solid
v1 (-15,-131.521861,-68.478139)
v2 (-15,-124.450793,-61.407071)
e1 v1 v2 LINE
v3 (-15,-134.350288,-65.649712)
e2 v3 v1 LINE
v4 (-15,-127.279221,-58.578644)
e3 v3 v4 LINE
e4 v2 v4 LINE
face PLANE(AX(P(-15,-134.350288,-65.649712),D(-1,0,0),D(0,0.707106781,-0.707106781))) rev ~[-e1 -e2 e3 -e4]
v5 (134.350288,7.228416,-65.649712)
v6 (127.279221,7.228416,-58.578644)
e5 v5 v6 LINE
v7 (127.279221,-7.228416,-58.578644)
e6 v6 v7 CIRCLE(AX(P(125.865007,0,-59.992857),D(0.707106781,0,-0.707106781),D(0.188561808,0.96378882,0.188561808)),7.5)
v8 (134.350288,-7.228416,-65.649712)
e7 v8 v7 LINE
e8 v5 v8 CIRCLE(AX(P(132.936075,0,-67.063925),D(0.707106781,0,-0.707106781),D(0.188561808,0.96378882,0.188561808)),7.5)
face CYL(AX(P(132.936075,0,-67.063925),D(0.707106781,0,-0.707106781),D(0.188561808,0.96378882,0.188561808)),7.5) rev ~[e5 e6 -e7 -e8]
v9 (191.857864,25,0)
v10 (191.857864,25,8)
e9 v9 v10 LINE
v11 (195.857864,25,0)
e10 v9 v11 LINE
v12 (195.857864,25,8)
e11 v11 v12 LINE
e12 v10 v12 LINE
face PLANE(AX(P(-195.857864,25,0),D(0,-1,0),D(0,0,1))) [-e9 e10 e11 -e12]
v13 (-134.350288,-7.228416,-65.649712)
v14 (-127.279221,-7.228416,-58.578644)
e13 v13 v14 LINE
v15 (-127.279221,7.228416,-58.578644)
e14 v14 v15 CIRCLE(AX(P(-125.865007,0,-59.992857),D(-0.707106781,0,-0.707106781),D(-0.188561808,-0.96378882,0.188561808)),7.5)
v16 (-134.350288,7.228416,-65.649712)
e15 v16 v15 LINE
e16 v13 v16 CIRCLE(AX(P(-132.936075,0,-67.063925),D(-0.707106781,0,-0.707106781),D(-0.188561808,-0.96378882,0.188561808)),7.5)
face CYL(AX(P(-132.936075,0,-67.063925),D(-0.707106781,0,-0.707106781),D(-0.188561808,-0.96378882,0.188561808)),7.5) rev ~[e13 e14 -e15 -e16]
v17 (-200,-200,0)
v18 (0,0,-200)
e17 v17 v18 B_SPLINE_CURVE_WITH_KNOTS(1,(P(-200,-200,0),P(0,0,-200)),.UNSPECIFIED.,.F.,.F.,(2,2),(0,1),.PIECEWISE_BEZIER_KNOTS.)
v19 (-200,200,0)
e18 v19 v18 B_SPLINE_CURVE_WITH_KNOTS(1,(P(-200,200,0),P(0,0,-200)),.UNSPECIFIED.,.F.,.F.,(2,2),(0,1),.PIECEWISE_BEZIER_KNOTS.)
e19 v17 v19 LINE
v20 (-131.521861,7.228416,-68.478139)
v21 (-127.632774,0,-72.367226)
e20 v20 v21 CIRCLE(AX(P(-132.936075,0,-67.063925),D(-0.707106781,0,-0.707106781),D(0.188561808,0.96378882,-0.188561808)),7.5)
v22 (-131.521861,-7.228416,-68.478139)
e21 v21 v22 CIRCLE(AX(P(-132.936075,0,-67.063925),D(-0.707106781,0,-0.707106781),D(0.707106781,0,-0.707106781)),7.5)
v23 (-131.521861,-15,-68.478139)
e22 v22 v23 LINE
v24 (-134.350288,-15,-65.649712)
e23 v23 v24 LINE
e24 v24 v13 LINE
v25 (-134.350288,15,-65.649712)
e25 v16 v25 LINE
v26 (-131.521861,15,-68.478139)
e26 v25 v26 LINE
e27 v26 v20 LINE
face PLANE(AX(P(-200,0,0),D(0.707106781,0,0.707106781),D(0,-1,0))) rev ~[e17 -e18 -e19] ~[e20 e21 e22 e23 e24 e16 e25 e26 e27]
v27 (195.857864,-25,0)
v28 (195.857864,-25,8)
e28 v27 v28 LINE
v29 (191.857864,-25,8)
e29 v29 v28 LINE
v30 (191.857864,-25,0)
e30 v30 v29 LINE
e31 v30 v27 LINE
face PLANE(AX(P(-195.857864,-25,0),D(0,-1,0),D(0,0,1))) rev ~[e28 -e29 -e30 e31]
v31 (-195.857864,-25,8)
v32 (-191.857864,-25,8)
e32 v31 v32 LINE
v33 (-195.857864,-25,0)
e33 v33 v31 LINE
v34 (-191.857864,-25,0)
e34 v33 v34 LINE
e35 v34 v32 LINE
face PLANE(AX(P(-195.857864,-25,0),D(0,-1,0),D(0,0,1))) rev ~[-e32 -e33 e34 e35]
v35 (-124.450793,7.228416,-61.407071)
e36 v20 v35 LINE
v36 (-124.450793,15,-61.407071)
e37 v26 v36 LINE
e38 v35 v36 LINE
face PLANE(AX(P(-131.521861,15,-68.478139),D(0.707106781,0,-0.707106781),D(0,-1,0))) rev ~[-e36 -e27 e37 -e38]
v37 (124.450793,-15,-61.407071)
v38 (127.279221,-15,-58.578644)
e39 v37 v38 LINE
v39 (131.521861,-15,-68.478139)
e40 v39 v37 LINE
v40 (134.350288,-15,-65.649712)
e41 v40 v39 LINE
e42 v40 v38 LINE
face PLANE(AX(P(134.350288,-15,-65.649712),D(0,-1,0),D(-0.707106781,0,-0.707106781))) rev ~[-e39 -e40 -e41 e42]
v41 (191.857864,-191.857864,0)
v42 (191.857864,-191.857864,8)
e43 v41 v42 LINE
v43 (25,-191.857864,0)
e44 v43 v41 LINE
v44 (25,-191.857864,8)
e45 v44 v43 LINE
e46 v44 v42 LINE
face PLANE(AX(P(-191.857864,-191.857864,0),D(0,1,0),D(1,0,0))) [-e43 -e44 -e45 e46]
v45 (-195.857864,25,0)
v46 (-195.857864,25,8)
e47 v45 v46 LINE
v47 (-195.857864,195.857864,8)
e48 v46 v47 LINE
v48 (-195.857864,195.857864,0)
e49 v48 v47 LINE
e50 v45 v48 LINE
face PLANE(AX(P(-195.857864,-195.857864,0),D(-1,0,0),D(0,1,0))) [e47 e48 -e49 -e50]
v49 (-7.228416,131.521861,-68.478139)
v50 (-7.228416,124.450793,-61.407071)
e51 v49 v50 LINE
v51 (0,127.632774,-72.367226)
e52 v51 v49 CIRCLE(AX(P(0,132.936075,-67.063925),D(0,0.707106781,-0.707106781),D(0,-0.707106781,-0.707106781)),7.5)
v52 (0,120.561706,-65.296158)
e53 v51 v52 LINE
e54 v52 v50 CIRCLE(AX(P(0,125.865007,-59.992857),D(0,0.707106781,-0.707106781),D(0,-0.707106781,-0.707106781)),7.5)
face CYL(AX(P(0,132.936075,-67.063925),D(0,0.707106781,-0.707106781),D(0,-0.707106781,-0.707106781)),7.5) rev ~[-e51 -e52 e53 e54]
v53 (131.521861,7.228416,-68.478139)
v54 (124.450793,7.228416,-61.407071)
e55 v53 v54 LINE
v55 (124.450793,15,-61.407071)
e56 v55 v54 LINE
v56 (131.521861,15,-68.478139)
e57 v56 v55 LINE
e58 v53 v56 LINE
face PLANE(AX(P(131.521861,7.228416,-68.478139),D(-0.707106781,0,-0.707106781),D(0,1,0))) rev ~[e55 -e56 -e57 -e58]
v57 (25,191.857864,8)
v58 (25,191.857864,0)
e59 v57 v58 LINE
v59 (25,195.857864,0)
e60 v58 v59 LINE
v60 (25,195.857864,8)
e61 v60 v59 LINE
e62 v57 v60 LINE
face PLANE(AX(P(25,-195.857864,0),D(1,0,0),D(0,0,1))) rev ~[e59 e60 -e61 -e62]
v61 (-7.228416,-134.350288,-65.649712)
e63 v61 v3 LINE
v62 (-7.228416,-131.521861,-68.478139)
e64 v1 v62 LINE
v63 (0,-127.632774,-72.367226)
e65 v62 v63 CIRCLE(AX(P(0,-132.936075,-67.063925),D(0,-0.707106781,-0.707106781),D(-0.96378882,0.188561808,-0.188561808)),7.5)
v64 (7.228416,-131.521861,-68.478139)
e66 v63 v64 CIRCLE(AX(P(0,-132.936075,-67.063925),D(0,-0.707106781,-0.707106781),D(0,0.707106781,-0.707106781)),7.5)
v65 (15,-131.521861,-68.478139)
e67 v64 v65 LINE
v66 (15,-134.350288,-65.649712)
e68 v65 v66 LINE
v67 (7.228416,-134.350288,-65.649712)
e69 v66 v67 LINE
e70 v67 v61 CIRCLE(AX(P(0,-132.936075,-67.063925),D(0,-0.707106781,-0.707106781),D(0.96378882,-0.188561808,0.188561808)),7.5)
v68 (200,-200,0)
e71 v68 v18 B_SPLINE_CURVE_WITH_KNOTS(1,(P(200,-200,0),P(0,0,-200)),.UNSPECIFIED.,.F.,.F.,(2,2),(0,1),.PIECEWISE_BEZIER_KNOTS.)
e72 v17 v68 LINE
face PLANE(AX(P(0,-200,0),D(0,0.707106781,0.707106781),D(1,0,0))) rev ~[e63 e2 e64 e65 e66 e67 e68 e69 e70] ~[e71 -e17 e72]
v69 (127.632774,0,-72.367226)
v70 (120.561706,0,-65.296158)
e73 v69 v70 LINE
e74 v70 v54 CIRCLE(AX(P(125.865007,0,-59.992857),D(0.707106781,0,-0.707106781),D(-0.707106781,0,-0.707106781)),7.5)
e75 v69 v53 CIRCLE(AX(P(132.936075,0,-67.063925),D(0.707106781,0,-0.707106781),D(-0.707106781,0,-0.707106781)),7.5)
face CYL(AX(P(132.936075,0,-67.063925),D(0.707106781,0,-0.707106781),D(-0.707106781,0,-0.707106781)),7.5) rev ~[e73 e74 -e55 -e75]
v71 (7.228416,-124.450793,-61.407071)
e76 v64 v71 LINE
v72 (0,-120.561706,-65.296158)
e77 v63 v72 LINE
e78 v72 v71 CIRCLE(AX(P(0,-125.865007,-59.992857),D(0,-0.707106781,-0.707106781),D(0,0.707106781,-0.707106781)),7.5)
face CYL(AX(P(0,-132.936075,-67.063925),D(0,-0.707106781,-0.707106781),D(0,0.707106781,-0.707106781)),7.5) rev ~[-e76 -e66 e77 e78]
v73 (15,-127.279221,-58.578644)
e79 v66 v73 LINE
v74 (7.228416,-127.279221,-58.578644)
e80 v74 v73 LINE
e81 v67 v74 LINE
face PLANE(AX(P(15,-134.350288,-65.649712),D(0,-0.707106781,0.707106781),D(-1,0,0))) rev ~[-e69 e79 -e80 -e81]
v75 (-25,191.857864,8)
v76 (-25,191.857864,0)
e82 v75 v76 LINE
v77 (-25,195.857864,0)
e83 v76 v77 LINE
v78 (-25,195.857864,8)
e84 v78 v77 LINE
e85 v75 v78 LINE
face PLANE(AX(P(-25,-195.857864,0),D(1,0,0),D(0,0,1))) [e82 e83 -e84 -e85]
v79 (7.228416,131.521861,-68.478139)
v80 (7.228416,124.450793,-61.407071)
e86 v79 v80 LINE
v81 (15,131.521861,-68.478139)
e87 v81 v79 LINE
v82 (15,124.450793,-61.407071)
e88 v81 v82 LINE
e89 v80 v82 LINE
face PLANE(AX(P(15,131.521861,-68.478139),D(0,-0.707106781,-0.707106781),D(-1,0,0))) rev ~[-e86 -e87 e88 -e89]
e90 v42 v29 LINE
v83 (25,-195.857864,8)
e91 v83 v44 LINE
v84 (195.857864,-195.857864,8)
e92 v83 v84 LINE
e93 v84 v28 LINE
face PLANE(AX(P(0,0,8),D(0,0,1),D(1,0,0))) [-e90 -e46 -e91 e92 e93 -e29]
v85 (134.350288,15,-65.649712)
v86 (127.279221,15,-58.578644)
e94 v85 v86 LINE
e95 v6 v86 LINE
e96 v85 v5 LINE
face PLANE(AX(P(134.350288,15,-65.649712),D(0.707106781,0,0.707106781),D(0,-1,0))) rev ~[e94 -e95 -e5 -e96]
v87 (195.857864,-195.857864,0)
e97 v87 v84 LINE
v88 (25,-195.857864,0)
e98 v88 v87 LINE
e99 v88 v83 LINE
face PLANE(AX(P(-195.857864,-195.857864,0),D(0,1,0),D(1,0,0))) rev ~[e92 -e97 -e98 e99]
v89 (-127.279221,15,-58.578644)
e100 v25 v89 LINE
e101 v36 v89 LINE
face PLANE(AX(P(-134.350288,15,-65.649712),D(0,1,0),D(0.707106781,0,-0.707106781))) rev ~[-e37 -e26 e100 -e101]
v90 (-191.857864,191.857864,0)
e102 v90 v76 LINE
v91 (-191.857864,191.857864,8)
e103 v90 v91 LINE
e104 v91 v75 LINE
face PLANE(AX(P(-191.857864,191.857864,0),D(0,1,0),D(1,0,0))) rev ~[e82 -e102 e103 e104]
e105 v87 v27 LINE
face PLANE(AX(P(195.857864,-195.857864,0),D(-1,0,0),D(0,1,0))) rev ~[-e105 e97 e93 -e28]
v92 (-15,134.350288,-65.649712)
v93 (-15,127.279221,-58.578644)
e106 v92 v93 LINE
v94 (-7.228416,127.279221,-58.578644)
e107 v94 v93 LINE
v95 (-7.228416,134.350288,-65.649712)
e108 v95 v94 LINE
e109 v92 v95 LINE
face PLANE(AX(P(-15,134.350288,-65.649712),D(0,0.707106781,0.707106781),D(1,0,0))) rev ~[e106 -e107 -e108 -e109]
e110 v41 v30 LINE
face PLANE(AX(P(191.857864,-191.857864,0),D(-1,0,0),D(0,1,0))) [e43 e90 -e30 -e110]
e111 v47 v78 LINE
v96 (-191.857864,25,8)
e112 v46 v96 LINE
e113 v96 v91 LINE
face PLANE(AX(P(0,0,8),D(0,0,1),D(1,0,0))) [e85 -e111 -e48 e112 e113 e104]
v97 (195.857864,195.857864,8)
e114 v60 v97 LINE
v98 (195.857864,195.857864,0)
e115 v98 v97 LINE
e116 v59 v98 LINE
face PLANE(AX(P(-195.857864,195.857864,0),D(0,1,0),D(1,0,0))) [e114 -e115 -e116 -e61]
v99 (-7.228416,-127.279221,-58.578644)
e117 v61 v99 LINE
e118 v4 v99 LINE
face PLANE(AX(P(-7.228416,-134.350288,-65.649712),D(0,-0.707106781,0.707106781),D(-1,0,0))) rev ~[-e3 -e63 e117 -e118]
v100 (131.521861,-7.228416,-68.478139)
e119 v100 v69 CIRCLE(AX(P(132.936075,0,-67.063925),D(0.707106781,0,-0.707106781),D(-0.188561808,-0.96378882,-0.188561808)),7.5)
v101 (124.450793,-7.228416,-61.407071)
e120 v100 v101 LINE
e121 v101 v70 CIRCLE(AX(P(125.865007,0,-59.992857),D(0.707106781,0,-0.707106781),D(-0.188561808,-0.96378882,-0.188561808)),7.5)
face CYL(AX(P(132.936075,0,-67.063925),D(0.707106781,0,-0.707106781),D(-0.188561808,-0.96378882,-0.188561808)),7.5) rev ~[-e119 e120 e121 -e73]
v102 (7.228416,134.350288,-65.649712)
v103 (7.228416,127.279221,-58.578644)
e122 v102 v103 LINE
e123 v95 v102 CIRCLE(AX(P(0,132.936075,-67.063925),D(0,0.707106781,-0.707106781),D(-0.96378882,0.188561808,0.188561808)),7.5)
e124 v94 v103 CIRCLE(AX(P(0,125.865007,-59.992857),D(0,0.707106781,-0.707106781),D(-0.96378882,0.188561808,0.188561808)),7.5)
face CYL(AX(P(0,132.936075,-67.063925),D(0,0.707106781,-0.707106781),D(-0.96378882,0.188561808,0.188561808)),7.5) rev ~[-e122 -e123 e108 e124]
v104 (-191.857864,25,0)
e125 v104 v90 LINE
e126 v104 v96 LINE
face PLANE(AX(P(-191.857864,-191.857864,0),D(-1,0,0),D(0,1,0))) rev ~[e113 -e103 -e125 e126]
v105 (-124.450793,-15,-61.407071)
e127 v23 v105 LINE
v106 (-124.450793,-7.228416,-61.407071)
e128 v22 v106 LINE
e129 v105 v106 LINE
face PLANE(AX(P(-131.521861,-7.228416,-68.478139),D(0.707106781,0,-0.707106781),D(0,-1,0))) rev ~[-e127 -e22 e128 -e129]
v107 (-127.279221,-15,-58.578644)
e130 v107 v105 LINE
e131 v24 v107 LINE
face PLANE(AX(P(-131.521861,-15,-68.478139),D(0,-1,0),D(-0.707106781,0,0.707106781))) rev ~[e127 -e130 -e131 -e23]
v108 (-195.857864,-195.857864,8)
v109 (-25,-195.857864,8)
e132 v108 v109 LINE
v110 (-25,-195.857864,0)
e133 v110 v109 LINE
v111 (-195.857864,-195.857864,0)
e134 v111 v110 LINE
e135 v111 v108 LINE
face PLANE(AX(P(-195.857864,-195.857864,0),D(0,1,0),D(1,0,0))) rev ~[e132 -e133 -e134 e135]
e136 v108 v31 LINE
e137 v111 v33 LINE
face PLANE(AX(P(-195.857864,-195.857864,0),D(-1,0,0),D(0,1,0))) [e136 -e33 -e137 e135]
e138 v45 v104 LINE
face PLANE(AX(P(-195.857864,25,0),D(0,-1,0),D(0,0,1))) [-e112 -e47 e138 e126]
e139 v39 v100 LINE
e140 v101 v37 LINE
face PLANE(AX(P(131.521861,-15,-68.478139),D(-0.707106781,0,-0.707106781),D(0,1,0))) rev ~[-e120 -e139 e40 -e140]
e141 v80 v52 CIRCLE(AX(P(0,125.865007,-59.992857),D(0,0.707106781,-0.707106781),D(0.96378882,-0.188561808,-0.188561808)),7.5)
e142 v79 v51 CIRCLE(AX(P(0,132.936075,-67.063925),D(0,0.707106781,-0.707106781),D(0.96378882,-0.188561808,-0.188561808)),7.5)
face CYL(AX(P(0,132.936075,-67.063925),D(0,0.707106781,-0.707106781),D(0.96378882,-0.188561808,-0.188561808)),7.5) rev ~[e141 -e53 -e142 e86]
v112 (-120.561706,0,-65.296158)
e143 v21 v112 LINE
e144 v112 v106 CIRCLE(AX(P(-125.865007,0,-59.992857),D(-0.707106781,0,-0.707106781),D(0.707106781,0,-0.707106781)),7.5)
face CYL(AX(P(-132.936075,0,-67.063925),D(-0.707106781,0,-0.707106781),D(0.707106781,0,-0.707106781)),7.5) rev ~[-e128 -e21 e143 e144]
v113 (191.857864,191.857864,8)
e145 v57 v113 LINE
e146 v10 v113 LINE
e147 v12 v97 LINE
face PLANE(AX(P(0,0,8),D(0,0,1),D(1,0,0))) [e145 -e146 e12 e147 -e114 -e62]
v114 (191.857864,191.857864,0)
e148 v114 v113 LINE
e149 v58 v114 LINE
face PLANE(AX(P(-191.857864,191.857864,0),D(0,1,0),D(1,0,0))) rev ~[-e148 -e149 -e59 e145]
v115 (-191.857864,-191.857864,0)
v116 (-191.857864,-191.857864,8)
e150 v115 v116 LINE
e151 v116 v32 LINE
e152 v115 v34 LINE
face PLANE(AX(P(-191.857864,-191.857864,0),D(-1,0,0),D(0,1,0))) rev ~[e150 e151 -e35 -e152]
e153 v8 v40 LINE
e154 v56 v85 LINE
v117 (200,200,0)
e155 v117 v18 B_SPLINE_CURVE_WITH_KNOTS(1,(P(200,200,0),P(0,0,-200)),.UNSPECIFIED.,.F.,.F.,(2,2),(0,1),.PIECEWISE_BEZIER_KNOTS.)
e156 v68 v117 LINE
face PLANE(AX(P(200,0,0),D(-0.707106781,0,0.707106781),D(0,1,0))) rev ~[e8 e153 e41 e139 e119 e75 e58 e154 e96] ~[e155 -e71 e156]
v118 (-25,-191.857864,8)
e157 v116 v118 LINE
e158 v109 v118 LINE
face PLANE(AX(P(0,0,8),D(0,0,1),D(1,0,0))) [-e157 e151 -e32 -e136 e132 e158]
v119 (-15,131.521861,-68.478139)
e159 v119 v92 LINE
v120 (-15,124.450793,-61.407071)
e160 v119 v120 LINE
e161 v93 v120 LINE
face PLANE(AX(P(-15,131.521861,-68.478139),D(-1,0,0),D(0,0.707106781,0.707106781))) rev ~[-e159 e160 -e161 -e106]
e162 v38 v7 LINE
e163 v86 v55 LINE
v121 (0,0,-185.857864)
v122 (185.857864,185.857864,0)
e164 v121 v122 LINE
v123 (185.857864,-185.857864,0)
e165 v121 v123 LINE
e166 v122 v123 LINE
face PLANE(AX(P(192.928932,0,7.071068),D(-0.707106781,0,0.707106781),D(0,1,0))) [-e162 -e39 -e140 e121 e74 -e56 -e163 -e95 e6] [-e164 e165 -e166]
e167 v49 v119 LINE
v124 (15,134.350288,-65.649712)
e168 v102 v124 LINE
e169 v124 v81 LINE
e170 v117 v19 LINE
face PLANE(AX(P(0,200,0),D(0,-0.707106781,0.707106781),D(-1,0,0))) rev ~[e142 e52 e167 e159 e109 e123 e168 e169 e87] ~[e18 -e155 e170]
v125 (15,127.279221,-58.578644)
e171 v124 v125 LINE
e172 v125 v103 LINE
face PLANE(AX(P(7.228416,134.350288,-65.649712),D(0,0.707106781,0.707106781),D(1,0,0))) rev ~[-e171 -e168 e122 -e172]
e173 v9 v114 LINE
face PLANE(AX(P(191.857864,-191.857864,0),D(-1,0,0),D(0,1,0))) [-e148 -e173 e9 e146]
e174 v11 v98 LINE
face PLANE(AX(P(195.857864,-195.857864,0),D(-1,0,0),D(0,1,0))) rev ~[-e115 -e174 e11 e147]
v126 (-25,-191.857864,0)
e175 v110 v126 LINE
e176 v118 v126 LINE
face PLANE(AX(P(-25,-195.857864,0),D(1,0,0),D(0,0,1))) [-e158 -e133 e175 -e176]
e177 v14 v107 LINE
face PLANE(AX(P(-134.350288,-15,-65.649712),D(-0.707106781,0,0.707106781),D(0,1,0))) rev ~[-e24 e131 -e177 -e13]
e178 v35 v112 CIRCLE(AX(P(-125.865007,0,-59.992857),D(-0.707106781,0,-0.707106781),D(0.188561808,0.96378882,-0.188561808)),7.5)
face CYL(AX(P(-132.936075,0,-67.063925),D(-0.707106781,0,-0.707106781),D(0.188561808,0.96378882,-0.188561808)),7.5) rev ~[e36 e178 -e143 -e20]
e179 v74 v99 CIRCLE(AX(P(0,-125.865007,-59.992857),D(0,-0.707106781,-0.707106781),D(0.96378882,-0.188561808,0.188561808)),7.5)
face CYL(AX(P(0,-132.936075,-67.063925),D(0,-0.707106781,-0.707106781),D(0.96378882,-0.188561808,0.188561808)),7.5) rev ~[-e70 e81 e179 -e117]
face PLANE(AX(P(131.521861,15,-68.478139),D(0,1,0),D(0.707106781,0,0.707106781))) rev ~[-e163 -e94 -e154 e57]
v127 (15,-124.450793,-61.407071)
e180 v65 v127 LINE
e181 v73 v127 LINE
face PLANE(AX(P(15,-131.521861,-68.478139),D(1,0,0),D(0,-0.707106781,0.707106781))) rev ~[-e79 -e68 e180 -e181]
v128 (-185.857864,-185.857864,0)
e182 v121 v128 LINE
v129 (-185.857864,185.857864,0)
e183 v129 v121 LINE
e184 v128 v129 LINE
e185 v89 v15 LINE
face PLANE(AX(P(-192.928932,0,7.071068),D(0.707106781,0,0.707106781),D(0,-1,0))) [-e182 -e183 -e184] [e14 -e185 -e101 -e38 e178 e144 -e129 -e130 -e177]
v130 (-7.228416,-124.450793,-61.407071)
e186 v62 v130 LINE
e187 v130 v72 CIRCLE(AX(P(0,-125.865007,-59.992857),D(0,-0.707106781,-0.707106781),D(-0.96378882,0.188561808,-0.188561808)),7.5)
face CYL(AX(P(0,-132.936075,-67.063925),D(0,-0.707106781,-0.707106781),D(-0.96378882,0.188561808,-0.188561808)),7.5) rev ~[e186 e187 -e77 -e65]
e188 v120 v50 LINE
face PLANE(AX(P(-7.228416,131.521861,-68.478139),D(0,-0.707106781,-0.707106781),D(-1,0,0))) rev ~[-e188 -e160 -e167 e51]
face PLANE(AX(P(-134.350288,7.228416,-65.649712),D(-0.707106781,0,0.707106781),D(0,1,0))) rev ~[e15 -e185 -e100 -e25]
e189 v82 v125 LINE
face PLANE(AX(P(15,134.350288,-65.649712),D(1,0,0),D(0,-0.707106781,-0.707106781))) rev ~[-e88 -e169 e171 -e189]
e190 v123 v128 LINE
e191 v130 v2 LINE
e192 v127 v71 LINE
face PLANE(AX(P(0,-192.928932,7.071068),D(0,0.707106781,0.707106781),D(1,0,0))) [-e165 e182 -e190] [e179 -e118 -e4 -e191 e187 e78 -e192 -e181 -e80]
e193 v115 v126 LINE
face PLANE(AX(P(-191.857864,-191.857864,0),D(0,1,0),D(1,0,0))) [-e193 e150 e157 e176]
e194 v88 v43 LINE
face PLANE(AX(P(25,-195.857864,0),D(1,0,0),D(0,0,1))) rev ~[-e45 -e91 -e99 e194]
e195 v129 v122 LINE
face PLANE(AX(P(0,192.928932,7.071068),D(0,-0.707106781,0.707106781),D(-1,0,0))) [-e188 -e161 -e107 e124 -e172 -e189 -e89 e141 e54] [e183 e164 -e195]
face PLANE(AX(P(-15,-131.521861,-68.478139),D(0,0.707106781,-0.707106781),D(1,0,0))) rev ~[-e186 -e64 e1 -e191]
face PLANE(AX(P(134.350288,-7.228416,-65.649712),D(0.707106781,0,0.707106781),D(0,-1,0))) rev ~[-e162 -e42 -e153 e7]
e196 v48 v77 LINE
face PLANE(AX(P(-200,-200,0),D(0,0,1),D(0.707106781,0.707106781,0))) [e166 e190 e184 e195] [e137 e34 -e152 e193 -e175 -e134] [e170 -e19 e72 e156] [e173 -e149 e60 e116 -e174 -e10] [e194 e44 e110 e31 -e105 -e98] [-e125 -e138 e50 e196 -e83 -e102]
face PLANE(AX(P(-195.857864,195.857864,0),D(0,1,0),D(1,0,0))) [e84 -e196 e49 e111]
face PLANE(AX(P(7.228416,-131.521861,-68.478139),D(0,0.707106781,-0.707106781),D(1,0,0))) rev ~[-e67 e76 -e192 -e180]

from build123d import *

# Parameters (mm, degrees)
F0_W      = 400
F0_H      = 400
F3_T      = -10
F4_W      = 391.7157287525
F4_H      = 391.7157287525
F4_W_2    = 383.7157287525
F4_H_2    = 383.7157287525
F5_DEPTH  = 8
F10_DEPTH = 288.5005667948
F11_DEPTH = 288.5005667948
F12_DEPTH = 288.5005667948
F13_DEPTH = 288.5005667948
F14_W     = 25
F14_H     = 8
F15_DEPTH = 395.8588644763
F16_W     = 25
F16_H     = 8
F17_DEPTH = 395.8588644763


with BuildPart() as f2:
    # F0 (on Top) → F2 section 0
    with BuildSketch(Plane.XY, mode=Mode.PRIVATE) as f2_s0:
        Rectangle(F0_W, F0_H)
    loft([f2_s0.sketch, Vertex(0, 0, -200)])

    # F3
    f3_openings = [f2.faces().sort_by_distance(p)[0] for p in [
        (0, 0, 0),
    ]]
    offset(amount=F3_T, openings=f3_openings)

    # F4 (on face) → F5 (join)
    with BuildSketch(Plane.XY):
        Rectangle(F4_W, F4_H)
        Rectangle(F4_W_2, F4_H_2, mode=Mode.SUBTRACT)
    extrude(amount=F5_DEPTH)

    # F6 (on face) → F10 (cut, through all)
    with BuildSketch(Plane(origin=(0, -100, -100), x_dir=(1, 0, 0), z_dir=(0, -0.7071067812, -0.7071067812))):
        with BuildLine():
            ThreePointArc((-7.2284161474, 44.5786437627), (-4.5414755311, 40.6099755695), (0, 39.0786437627))
            Line((0, 39.0786437627), (0, 44.5786437627))
            Line((0, 44.5786437627), (-7.2284161474, 44.5786437627))
        make_face()
        with BuildLine():
            Line((0, 44.5786437627), (0, 39.0786437627))
            ThreePointArc((0, 39.0786437627), (4.5414755311, 40.6099755695), (7.2284161474, 44.5786437627))
            Line((7.2284161474, 44.5786437627), (0, 44.5786437627))
        make_face()
        with BuildLine():
            Line((-7.2284161474, 44.5786437627), (0, 44.5786437627))
            Line((0, 44.5786437627), (0, 46.5786437627))
            Line((0, 46.5786437627), (7.5, 46.5786437627))
            ThreePointArc((7.5, 46.5786437627), (7.4317938987, 47.5878213721), (7.2284161474, 48.5786437627))
            Line((7.2284161474, 48.5786437627), (-7.2284161474, 48.5786437627))
            ThreePointArc((-7.2284161474, 48.5786437627), (-7.5, 46.5786437627), (-7.2284161474, 44.5786437627))
        make_face()
        with BuildLine():
            Line((0, 46.5786437627), (0, 44.5786437627))
            Line((0, 44.5786437627), (7.2284161474, 44.5786437627))
            ThreePointArc((7.2284161474, 44.5786437627), (7.4317938987, 45.5694661533), (7.5, 46.5786437627))
            Line((7.5, 46.5786437627), (0, 46.5786437627))
        make_face()
        with BuildLine():
            Line((-15, 44.5786437627), (-7.2284161474, 44.5786437627))
            ThreePointArc((-7.2284161474, 44.5786437627), (-7.5, 46.5786437627), (-7.2284161474, 48.5786437627))
            Line((-7.2284161474, 48.5786437627), (-15, 48.5786437627))
            Line((-15, 48.5786437627), (-15, 44.5786437627))
        make_face()
        with BuildLine():
            ThreePointArc((7.5, 46.5786437627), (7.4317938987, 45.5694661533), (7.2284161474, 44.5786437627))
            Line((7.2284161474, 44.5786437627), (15, 44.5786437627))
            Line((15, 44.5786437627), (15, 48.5786437627))
            Line((15, 48.5786437627), (7.2284161474, 48.5786437627))
            ThreePointArc((7.2284161474, 48.5786437627), (7.4317938987, 47.5878213721), (7.5, 46.5786437627))
        make_face()
        with BuildLine():
            ThreePointArc((7.2284161474, 48.5786437627), (0, 54.0786437627), (-7.2284161474, 48.5786437627))
            Line((-7.2284161474, 48.5786437627), (7.2284161474, 48.5786437627))
        make_face()
    extrude(amount=-F10_DEPTH, mode=Mode.SUBTRACT)

    # F7 (on face) → F11 (cut, through all)
    with BuildSketch(Plane(origin=(100, 0, -100), x_dir=(0, 1, 0), z_dir=(0.7071067812, 0, -0.7071067812))):
        with BuildLine():
            ThreePointArc((-7.2284161474, 44.5786437627), (-4.5414755311, 40.6099755695), (0, 39.0786437627))
            Line((0, 39.0786437627), (0, 44.5786437627))
            Line((0, 44.5786437627), (-7.2284161474, 44.5786437627))
        make_face()
        with BuildLine():
            Line((0, 44.5786437627), (0, 39.0786437627))
            ThreePointArc((0, 39.0786437627), (4.5414755311, 40.6099755695), (7.2284161474, 44.5786437627))
            Line((7.2284161474, 44.5786437627), (0, 44.5786437627))
        make_face()
        with BuildLine():
            Line((-7.2284161474, 44.5786437627), (0, 44.5786437627))
            Line((0, 44.5786437627), (0, 46.5786437627))
            Line((0, 46.5786437627), (7.5, 46.5786437627))
            ThreePointArc((7.5, 46.5786437627), (7.4317938987, 47.5878213721), (7.2284161474, 48.5786437627))
            Line((7.2284161474, 48.5786437627), (-7.2284161474, 48.5786437627))
            ThreePointArc((-7.2284161474, 48.5786437627), (-7.5, 46.5786437627), (-7.2284161474, 44.5786437627))
        make_face()
        with BuildLine():
            Line((0, 46.5786437627), (0, 44.5786437627))
            Line((0, 44.5786437627), (7.2284161474, 44.5786437627))
            ThreePointArc((7.2284161474, 44.5786437627), (7.4317938987, 45.5694661533), (7.5, 46.5786437627))
            Line((7.5, 46.5786437627), (0, 46.5786437627))
        make_face()
        with BuildLine():
            Line((-15, 44.5786437627), (-7.2284161474, 44.5786437627))
            ThreePointArc((-7.2284161474, 44.5786437627), (-7.5, 46.5786437627), (-7.2284161474, 48.5786437627))
            Line((-7.2284161474, 48.5786437627), (-15, 48.5786437627))
            Line((-15, 48.5786437627), (-15, 44.5786437627))
        make_face()
        with BuildLine():
            ThreePointArc((7.5, 46.5786437627), (7.4317938987, 45.5694661533), (7.2284161474, 44.5786437627))
            Line((7.2284161474, 44.5786437627), (15, 44.5786437627))
            Line((15, 44.5786437627), (15, 48.5786437627))
            Line((15, 48.5786437627), (7.2284161474, 48.5786437627))
            ThreePointArc((7.2284161474, 48.5786437627), (7.4317938987, 47.5878213721), (7.5, 46.5786437627))
        make_face()
        with BuildLine():
            ThreePointArc((7.2284161474, 48.5786437627), (0, 54.0786437627), (-7.2284161474, 48.5786437627))
            Line((-7.2284161474, 48.5786437627), (7.2284161474, 48.5786437627))
        make_face()
    extrude(amount=-F11_DEPTH, mode=Mode.SUBTRACT)

    # F8 (on face) → F12 (cut, through all)
    with BuildSketch(Plane(origin=(0, 100, -100), x_dir=(-1, 0, 0), z_dir=(0, 0.7071067812, -0.7071067812))):
        with BuildLine():
            ThreePointArc((-7.2284161474, 44.5786437627), (-4.5414755311, 40.6099755695), (0, 39.0786437627))
            Line((0, 39.0786437627), (0, 44.5786437627))
            Line((0, 44.5786437627), (-7.2284161474, 44.5786437627))
        make_face()
        with BuildLine():
            Line((0, 44.5786437627), (0, 39.0786437627))
            ThreePointArc((0, 39.0786437627), (4.5414755311, 40.6099755695), (7.2284161474, 44.5786437627))
            Line((7.2284161474, 44.5786437627), (0, 44.5786437627))
        make_face()
        with BuildLine():
            Line((-7.2284161474, 44.5786437627), (0, 44.5786437627))
            Line((0, 44.5786437627), (0, 46.5786437627))
            Line((0, 46.5786437627), (7.5, 46.5786437627))
            ThreePointArc((7.5, 46.5786437627), (7.4317938987, 47.5878213721), (7.2284161474, 48.5786437627))
            Line((7.2284161474, 48.5786437627), (-7.2284161474, 48.5786437627))
            ThreePointArc((-7.2284161474, 48.5786437627), (-7.5, 46.5786437627), (-7.2284161474, 44.5786437627))
        make_face()
        with BuildLine():
            Line((0, 46.5786437627), (0, 44.5786437627))
            Line((0, 44.5786437627), (7.2284161474, 44.5786437627))
            ThreePointArc((7.2284161474, 44.5786437627), (7.4317938987, 45.5694661533), (7.5, 46.5786437627))
            Line((7.5, 46.5786437627), (0, 46.5786437627))
        make_face()
        with BuildLine():
            Line((-15, 44.5786437627), (-7.2284161474, 44.5786437627))
            ThreePointArc((-7.2284161474, 44.5786437627), (-7.5, 46.5786437627), (-7.2284161474, 48.5786437627))
            Line((-7.2284161474, 48.5786437627), (-15, 48.5786437627))
            Line((-15, 48.5786437627), (-15, 44.5786437627))
        make_face()
        with BuildLine():
            ThreePointArc((7.5, 46.5786437627), (7.4317938987, 45.5694661533), (7.2284161474, 44.5786437627))
            Line((7.2284161474, 44.5786437627), (15, 44.5786437627))
            Line((15, 44.5786437627), (15, 48.5786437627))
            Line((15, 48.5786437627), (7.2284161474, 48.5786437627))
            ThreePointArc((7.2284161474, 48.5786437627), (7.4317938987, 47.5878213721), (7.5, 46.5786437627))
        make_face()
        with BuildLine():
            ThreePointArc((7.2284161474, 48.5786437627), (0, 54.0786437627), (-7.2284161474, 48.5786437627))
            Line((-7.2284161474, 48.5786437627), (7.2284161474, 48.5786437627))
        make_face()
    extrude(amount=-F12_DEPTH, mode=Mode.SUBTRACT)

    # F9 (on face) → F13 (cut, through all)
    with BuildSketch(Plane(origin=(-100, 0, -100), x_dir=(0.7071067812, 0, -0.7071067812), z_dir=(-0.7071067812, 0, -0.7071067812))):
        with BuildLine():
            ThreePointArc((-44.5786437627, -7.2284161474), (-40.6099755695, -4.5414755311), (-39.0786437627, 0))
            Line((-39.0786437627, 0), (-44.5786437627, 0))
            Line((-44.5786437627, 0), (-44.5786437627, -7.2284161474))
        make_face()
        with BuildLine():
            Line((-44.5786437627, 0), (-39.0786437627, 0))
            ThreePointArc((-39.0786437627, 0), (-40.6099755695, 4.5414755311), (-44.5786437627, 7.2284161474))
            Line((-44.5786437627, 7.2284161474), (-44.5786437627, 0))
        make_face()
        with BuildLine():
            Line((-44.5786437627, -7.2284161474), (-44.5786437627, 0))
            Line((-44.5786437627, 0), (-44.5786437627, 7.2284161474))
            ThreePointArc((-44.5786437627, 7.2284161474), (-46.5786437627, 7.5), (-48.5786437627, 7.2284161474))
            Line((-48.5786437627, 7.2284161474), (-48.5786437627, -7.2284161474))
            ThreePointArc((-48.5786437627, -7.2284161474), (-46.5786437627, -7.5), (-44.5786437627, -7.2284161474))
        make_face()
        with BuildLine():
            ThreePointArc((-48.5786437627, 7.2284161474), (-46.5786437627, 7.5), (-44.5786437627, 7.2284161474))
            Line((-44.5786437627, 7.2284161474), (-44.5786437627, 15))
            Line((-44.5786437627, 15), (-48.5786437627, 15))
            Line((-48.5786437627, 15), (-48.5786437627, 7.2284161474))
        make_face()
        with BuildLine():
            Line((-44.5786437627, -15), (-44.5786437627, -7.2284161474))
            ThreePointArc((-44.5786437627, -7.2284161474), (-46.5786437627, -7.5), (-48.5786437627, -7.2284161474))
            Line((-48.5786437627, -7.2284161474), (-48.5786437627, -15))
            Line((-48.5786437627, -15), (-44.5786437627, -15))
        make_face()
        with BuildLine():
            Line((-48.5786437627, -7.2284161474), (-48.5786437627, 7.2284161474))
            ThreePointArc((-48.5786437627, 7.2284161474), (-54.0786437627, 0), (-48.5786437627, -7.2284161474))
        make_face()
    extrude(amount=-F13_DEPTH, mode=Mode.SUBTRACT)

    # F14 (on face) → F15 (cut, through all)
    with BuildSketch(Plane.XZ.offset(195.8578643763)):
        with Locations((-12.5, 4)):
            Rectangle(F14_W, F14_H)
        with Locations((12.5, 4)):
            Rectangle(F14_W, F14_H)
    extrude(amount=-F15_DEPTH, mode=Mode.SUBTRACT)

    # F16 (on face) → F17 (cut, through all)
    with BuildSketch(Plane(origin=(-195.8578643763, 0, 0), x_dir=(0, -1, 0), z_dir=(-1, 0, 0))):
        with Locations((-12.5, 4)):
            Rectangle(F16_W, F16_H)
        with Locations((12.5, 4)):
            Rectangle(F16_W, F16_H)
    extrude(amount=-F17_DEPTH, mode=Mode.SUBTRACT)


solid = f2.part
